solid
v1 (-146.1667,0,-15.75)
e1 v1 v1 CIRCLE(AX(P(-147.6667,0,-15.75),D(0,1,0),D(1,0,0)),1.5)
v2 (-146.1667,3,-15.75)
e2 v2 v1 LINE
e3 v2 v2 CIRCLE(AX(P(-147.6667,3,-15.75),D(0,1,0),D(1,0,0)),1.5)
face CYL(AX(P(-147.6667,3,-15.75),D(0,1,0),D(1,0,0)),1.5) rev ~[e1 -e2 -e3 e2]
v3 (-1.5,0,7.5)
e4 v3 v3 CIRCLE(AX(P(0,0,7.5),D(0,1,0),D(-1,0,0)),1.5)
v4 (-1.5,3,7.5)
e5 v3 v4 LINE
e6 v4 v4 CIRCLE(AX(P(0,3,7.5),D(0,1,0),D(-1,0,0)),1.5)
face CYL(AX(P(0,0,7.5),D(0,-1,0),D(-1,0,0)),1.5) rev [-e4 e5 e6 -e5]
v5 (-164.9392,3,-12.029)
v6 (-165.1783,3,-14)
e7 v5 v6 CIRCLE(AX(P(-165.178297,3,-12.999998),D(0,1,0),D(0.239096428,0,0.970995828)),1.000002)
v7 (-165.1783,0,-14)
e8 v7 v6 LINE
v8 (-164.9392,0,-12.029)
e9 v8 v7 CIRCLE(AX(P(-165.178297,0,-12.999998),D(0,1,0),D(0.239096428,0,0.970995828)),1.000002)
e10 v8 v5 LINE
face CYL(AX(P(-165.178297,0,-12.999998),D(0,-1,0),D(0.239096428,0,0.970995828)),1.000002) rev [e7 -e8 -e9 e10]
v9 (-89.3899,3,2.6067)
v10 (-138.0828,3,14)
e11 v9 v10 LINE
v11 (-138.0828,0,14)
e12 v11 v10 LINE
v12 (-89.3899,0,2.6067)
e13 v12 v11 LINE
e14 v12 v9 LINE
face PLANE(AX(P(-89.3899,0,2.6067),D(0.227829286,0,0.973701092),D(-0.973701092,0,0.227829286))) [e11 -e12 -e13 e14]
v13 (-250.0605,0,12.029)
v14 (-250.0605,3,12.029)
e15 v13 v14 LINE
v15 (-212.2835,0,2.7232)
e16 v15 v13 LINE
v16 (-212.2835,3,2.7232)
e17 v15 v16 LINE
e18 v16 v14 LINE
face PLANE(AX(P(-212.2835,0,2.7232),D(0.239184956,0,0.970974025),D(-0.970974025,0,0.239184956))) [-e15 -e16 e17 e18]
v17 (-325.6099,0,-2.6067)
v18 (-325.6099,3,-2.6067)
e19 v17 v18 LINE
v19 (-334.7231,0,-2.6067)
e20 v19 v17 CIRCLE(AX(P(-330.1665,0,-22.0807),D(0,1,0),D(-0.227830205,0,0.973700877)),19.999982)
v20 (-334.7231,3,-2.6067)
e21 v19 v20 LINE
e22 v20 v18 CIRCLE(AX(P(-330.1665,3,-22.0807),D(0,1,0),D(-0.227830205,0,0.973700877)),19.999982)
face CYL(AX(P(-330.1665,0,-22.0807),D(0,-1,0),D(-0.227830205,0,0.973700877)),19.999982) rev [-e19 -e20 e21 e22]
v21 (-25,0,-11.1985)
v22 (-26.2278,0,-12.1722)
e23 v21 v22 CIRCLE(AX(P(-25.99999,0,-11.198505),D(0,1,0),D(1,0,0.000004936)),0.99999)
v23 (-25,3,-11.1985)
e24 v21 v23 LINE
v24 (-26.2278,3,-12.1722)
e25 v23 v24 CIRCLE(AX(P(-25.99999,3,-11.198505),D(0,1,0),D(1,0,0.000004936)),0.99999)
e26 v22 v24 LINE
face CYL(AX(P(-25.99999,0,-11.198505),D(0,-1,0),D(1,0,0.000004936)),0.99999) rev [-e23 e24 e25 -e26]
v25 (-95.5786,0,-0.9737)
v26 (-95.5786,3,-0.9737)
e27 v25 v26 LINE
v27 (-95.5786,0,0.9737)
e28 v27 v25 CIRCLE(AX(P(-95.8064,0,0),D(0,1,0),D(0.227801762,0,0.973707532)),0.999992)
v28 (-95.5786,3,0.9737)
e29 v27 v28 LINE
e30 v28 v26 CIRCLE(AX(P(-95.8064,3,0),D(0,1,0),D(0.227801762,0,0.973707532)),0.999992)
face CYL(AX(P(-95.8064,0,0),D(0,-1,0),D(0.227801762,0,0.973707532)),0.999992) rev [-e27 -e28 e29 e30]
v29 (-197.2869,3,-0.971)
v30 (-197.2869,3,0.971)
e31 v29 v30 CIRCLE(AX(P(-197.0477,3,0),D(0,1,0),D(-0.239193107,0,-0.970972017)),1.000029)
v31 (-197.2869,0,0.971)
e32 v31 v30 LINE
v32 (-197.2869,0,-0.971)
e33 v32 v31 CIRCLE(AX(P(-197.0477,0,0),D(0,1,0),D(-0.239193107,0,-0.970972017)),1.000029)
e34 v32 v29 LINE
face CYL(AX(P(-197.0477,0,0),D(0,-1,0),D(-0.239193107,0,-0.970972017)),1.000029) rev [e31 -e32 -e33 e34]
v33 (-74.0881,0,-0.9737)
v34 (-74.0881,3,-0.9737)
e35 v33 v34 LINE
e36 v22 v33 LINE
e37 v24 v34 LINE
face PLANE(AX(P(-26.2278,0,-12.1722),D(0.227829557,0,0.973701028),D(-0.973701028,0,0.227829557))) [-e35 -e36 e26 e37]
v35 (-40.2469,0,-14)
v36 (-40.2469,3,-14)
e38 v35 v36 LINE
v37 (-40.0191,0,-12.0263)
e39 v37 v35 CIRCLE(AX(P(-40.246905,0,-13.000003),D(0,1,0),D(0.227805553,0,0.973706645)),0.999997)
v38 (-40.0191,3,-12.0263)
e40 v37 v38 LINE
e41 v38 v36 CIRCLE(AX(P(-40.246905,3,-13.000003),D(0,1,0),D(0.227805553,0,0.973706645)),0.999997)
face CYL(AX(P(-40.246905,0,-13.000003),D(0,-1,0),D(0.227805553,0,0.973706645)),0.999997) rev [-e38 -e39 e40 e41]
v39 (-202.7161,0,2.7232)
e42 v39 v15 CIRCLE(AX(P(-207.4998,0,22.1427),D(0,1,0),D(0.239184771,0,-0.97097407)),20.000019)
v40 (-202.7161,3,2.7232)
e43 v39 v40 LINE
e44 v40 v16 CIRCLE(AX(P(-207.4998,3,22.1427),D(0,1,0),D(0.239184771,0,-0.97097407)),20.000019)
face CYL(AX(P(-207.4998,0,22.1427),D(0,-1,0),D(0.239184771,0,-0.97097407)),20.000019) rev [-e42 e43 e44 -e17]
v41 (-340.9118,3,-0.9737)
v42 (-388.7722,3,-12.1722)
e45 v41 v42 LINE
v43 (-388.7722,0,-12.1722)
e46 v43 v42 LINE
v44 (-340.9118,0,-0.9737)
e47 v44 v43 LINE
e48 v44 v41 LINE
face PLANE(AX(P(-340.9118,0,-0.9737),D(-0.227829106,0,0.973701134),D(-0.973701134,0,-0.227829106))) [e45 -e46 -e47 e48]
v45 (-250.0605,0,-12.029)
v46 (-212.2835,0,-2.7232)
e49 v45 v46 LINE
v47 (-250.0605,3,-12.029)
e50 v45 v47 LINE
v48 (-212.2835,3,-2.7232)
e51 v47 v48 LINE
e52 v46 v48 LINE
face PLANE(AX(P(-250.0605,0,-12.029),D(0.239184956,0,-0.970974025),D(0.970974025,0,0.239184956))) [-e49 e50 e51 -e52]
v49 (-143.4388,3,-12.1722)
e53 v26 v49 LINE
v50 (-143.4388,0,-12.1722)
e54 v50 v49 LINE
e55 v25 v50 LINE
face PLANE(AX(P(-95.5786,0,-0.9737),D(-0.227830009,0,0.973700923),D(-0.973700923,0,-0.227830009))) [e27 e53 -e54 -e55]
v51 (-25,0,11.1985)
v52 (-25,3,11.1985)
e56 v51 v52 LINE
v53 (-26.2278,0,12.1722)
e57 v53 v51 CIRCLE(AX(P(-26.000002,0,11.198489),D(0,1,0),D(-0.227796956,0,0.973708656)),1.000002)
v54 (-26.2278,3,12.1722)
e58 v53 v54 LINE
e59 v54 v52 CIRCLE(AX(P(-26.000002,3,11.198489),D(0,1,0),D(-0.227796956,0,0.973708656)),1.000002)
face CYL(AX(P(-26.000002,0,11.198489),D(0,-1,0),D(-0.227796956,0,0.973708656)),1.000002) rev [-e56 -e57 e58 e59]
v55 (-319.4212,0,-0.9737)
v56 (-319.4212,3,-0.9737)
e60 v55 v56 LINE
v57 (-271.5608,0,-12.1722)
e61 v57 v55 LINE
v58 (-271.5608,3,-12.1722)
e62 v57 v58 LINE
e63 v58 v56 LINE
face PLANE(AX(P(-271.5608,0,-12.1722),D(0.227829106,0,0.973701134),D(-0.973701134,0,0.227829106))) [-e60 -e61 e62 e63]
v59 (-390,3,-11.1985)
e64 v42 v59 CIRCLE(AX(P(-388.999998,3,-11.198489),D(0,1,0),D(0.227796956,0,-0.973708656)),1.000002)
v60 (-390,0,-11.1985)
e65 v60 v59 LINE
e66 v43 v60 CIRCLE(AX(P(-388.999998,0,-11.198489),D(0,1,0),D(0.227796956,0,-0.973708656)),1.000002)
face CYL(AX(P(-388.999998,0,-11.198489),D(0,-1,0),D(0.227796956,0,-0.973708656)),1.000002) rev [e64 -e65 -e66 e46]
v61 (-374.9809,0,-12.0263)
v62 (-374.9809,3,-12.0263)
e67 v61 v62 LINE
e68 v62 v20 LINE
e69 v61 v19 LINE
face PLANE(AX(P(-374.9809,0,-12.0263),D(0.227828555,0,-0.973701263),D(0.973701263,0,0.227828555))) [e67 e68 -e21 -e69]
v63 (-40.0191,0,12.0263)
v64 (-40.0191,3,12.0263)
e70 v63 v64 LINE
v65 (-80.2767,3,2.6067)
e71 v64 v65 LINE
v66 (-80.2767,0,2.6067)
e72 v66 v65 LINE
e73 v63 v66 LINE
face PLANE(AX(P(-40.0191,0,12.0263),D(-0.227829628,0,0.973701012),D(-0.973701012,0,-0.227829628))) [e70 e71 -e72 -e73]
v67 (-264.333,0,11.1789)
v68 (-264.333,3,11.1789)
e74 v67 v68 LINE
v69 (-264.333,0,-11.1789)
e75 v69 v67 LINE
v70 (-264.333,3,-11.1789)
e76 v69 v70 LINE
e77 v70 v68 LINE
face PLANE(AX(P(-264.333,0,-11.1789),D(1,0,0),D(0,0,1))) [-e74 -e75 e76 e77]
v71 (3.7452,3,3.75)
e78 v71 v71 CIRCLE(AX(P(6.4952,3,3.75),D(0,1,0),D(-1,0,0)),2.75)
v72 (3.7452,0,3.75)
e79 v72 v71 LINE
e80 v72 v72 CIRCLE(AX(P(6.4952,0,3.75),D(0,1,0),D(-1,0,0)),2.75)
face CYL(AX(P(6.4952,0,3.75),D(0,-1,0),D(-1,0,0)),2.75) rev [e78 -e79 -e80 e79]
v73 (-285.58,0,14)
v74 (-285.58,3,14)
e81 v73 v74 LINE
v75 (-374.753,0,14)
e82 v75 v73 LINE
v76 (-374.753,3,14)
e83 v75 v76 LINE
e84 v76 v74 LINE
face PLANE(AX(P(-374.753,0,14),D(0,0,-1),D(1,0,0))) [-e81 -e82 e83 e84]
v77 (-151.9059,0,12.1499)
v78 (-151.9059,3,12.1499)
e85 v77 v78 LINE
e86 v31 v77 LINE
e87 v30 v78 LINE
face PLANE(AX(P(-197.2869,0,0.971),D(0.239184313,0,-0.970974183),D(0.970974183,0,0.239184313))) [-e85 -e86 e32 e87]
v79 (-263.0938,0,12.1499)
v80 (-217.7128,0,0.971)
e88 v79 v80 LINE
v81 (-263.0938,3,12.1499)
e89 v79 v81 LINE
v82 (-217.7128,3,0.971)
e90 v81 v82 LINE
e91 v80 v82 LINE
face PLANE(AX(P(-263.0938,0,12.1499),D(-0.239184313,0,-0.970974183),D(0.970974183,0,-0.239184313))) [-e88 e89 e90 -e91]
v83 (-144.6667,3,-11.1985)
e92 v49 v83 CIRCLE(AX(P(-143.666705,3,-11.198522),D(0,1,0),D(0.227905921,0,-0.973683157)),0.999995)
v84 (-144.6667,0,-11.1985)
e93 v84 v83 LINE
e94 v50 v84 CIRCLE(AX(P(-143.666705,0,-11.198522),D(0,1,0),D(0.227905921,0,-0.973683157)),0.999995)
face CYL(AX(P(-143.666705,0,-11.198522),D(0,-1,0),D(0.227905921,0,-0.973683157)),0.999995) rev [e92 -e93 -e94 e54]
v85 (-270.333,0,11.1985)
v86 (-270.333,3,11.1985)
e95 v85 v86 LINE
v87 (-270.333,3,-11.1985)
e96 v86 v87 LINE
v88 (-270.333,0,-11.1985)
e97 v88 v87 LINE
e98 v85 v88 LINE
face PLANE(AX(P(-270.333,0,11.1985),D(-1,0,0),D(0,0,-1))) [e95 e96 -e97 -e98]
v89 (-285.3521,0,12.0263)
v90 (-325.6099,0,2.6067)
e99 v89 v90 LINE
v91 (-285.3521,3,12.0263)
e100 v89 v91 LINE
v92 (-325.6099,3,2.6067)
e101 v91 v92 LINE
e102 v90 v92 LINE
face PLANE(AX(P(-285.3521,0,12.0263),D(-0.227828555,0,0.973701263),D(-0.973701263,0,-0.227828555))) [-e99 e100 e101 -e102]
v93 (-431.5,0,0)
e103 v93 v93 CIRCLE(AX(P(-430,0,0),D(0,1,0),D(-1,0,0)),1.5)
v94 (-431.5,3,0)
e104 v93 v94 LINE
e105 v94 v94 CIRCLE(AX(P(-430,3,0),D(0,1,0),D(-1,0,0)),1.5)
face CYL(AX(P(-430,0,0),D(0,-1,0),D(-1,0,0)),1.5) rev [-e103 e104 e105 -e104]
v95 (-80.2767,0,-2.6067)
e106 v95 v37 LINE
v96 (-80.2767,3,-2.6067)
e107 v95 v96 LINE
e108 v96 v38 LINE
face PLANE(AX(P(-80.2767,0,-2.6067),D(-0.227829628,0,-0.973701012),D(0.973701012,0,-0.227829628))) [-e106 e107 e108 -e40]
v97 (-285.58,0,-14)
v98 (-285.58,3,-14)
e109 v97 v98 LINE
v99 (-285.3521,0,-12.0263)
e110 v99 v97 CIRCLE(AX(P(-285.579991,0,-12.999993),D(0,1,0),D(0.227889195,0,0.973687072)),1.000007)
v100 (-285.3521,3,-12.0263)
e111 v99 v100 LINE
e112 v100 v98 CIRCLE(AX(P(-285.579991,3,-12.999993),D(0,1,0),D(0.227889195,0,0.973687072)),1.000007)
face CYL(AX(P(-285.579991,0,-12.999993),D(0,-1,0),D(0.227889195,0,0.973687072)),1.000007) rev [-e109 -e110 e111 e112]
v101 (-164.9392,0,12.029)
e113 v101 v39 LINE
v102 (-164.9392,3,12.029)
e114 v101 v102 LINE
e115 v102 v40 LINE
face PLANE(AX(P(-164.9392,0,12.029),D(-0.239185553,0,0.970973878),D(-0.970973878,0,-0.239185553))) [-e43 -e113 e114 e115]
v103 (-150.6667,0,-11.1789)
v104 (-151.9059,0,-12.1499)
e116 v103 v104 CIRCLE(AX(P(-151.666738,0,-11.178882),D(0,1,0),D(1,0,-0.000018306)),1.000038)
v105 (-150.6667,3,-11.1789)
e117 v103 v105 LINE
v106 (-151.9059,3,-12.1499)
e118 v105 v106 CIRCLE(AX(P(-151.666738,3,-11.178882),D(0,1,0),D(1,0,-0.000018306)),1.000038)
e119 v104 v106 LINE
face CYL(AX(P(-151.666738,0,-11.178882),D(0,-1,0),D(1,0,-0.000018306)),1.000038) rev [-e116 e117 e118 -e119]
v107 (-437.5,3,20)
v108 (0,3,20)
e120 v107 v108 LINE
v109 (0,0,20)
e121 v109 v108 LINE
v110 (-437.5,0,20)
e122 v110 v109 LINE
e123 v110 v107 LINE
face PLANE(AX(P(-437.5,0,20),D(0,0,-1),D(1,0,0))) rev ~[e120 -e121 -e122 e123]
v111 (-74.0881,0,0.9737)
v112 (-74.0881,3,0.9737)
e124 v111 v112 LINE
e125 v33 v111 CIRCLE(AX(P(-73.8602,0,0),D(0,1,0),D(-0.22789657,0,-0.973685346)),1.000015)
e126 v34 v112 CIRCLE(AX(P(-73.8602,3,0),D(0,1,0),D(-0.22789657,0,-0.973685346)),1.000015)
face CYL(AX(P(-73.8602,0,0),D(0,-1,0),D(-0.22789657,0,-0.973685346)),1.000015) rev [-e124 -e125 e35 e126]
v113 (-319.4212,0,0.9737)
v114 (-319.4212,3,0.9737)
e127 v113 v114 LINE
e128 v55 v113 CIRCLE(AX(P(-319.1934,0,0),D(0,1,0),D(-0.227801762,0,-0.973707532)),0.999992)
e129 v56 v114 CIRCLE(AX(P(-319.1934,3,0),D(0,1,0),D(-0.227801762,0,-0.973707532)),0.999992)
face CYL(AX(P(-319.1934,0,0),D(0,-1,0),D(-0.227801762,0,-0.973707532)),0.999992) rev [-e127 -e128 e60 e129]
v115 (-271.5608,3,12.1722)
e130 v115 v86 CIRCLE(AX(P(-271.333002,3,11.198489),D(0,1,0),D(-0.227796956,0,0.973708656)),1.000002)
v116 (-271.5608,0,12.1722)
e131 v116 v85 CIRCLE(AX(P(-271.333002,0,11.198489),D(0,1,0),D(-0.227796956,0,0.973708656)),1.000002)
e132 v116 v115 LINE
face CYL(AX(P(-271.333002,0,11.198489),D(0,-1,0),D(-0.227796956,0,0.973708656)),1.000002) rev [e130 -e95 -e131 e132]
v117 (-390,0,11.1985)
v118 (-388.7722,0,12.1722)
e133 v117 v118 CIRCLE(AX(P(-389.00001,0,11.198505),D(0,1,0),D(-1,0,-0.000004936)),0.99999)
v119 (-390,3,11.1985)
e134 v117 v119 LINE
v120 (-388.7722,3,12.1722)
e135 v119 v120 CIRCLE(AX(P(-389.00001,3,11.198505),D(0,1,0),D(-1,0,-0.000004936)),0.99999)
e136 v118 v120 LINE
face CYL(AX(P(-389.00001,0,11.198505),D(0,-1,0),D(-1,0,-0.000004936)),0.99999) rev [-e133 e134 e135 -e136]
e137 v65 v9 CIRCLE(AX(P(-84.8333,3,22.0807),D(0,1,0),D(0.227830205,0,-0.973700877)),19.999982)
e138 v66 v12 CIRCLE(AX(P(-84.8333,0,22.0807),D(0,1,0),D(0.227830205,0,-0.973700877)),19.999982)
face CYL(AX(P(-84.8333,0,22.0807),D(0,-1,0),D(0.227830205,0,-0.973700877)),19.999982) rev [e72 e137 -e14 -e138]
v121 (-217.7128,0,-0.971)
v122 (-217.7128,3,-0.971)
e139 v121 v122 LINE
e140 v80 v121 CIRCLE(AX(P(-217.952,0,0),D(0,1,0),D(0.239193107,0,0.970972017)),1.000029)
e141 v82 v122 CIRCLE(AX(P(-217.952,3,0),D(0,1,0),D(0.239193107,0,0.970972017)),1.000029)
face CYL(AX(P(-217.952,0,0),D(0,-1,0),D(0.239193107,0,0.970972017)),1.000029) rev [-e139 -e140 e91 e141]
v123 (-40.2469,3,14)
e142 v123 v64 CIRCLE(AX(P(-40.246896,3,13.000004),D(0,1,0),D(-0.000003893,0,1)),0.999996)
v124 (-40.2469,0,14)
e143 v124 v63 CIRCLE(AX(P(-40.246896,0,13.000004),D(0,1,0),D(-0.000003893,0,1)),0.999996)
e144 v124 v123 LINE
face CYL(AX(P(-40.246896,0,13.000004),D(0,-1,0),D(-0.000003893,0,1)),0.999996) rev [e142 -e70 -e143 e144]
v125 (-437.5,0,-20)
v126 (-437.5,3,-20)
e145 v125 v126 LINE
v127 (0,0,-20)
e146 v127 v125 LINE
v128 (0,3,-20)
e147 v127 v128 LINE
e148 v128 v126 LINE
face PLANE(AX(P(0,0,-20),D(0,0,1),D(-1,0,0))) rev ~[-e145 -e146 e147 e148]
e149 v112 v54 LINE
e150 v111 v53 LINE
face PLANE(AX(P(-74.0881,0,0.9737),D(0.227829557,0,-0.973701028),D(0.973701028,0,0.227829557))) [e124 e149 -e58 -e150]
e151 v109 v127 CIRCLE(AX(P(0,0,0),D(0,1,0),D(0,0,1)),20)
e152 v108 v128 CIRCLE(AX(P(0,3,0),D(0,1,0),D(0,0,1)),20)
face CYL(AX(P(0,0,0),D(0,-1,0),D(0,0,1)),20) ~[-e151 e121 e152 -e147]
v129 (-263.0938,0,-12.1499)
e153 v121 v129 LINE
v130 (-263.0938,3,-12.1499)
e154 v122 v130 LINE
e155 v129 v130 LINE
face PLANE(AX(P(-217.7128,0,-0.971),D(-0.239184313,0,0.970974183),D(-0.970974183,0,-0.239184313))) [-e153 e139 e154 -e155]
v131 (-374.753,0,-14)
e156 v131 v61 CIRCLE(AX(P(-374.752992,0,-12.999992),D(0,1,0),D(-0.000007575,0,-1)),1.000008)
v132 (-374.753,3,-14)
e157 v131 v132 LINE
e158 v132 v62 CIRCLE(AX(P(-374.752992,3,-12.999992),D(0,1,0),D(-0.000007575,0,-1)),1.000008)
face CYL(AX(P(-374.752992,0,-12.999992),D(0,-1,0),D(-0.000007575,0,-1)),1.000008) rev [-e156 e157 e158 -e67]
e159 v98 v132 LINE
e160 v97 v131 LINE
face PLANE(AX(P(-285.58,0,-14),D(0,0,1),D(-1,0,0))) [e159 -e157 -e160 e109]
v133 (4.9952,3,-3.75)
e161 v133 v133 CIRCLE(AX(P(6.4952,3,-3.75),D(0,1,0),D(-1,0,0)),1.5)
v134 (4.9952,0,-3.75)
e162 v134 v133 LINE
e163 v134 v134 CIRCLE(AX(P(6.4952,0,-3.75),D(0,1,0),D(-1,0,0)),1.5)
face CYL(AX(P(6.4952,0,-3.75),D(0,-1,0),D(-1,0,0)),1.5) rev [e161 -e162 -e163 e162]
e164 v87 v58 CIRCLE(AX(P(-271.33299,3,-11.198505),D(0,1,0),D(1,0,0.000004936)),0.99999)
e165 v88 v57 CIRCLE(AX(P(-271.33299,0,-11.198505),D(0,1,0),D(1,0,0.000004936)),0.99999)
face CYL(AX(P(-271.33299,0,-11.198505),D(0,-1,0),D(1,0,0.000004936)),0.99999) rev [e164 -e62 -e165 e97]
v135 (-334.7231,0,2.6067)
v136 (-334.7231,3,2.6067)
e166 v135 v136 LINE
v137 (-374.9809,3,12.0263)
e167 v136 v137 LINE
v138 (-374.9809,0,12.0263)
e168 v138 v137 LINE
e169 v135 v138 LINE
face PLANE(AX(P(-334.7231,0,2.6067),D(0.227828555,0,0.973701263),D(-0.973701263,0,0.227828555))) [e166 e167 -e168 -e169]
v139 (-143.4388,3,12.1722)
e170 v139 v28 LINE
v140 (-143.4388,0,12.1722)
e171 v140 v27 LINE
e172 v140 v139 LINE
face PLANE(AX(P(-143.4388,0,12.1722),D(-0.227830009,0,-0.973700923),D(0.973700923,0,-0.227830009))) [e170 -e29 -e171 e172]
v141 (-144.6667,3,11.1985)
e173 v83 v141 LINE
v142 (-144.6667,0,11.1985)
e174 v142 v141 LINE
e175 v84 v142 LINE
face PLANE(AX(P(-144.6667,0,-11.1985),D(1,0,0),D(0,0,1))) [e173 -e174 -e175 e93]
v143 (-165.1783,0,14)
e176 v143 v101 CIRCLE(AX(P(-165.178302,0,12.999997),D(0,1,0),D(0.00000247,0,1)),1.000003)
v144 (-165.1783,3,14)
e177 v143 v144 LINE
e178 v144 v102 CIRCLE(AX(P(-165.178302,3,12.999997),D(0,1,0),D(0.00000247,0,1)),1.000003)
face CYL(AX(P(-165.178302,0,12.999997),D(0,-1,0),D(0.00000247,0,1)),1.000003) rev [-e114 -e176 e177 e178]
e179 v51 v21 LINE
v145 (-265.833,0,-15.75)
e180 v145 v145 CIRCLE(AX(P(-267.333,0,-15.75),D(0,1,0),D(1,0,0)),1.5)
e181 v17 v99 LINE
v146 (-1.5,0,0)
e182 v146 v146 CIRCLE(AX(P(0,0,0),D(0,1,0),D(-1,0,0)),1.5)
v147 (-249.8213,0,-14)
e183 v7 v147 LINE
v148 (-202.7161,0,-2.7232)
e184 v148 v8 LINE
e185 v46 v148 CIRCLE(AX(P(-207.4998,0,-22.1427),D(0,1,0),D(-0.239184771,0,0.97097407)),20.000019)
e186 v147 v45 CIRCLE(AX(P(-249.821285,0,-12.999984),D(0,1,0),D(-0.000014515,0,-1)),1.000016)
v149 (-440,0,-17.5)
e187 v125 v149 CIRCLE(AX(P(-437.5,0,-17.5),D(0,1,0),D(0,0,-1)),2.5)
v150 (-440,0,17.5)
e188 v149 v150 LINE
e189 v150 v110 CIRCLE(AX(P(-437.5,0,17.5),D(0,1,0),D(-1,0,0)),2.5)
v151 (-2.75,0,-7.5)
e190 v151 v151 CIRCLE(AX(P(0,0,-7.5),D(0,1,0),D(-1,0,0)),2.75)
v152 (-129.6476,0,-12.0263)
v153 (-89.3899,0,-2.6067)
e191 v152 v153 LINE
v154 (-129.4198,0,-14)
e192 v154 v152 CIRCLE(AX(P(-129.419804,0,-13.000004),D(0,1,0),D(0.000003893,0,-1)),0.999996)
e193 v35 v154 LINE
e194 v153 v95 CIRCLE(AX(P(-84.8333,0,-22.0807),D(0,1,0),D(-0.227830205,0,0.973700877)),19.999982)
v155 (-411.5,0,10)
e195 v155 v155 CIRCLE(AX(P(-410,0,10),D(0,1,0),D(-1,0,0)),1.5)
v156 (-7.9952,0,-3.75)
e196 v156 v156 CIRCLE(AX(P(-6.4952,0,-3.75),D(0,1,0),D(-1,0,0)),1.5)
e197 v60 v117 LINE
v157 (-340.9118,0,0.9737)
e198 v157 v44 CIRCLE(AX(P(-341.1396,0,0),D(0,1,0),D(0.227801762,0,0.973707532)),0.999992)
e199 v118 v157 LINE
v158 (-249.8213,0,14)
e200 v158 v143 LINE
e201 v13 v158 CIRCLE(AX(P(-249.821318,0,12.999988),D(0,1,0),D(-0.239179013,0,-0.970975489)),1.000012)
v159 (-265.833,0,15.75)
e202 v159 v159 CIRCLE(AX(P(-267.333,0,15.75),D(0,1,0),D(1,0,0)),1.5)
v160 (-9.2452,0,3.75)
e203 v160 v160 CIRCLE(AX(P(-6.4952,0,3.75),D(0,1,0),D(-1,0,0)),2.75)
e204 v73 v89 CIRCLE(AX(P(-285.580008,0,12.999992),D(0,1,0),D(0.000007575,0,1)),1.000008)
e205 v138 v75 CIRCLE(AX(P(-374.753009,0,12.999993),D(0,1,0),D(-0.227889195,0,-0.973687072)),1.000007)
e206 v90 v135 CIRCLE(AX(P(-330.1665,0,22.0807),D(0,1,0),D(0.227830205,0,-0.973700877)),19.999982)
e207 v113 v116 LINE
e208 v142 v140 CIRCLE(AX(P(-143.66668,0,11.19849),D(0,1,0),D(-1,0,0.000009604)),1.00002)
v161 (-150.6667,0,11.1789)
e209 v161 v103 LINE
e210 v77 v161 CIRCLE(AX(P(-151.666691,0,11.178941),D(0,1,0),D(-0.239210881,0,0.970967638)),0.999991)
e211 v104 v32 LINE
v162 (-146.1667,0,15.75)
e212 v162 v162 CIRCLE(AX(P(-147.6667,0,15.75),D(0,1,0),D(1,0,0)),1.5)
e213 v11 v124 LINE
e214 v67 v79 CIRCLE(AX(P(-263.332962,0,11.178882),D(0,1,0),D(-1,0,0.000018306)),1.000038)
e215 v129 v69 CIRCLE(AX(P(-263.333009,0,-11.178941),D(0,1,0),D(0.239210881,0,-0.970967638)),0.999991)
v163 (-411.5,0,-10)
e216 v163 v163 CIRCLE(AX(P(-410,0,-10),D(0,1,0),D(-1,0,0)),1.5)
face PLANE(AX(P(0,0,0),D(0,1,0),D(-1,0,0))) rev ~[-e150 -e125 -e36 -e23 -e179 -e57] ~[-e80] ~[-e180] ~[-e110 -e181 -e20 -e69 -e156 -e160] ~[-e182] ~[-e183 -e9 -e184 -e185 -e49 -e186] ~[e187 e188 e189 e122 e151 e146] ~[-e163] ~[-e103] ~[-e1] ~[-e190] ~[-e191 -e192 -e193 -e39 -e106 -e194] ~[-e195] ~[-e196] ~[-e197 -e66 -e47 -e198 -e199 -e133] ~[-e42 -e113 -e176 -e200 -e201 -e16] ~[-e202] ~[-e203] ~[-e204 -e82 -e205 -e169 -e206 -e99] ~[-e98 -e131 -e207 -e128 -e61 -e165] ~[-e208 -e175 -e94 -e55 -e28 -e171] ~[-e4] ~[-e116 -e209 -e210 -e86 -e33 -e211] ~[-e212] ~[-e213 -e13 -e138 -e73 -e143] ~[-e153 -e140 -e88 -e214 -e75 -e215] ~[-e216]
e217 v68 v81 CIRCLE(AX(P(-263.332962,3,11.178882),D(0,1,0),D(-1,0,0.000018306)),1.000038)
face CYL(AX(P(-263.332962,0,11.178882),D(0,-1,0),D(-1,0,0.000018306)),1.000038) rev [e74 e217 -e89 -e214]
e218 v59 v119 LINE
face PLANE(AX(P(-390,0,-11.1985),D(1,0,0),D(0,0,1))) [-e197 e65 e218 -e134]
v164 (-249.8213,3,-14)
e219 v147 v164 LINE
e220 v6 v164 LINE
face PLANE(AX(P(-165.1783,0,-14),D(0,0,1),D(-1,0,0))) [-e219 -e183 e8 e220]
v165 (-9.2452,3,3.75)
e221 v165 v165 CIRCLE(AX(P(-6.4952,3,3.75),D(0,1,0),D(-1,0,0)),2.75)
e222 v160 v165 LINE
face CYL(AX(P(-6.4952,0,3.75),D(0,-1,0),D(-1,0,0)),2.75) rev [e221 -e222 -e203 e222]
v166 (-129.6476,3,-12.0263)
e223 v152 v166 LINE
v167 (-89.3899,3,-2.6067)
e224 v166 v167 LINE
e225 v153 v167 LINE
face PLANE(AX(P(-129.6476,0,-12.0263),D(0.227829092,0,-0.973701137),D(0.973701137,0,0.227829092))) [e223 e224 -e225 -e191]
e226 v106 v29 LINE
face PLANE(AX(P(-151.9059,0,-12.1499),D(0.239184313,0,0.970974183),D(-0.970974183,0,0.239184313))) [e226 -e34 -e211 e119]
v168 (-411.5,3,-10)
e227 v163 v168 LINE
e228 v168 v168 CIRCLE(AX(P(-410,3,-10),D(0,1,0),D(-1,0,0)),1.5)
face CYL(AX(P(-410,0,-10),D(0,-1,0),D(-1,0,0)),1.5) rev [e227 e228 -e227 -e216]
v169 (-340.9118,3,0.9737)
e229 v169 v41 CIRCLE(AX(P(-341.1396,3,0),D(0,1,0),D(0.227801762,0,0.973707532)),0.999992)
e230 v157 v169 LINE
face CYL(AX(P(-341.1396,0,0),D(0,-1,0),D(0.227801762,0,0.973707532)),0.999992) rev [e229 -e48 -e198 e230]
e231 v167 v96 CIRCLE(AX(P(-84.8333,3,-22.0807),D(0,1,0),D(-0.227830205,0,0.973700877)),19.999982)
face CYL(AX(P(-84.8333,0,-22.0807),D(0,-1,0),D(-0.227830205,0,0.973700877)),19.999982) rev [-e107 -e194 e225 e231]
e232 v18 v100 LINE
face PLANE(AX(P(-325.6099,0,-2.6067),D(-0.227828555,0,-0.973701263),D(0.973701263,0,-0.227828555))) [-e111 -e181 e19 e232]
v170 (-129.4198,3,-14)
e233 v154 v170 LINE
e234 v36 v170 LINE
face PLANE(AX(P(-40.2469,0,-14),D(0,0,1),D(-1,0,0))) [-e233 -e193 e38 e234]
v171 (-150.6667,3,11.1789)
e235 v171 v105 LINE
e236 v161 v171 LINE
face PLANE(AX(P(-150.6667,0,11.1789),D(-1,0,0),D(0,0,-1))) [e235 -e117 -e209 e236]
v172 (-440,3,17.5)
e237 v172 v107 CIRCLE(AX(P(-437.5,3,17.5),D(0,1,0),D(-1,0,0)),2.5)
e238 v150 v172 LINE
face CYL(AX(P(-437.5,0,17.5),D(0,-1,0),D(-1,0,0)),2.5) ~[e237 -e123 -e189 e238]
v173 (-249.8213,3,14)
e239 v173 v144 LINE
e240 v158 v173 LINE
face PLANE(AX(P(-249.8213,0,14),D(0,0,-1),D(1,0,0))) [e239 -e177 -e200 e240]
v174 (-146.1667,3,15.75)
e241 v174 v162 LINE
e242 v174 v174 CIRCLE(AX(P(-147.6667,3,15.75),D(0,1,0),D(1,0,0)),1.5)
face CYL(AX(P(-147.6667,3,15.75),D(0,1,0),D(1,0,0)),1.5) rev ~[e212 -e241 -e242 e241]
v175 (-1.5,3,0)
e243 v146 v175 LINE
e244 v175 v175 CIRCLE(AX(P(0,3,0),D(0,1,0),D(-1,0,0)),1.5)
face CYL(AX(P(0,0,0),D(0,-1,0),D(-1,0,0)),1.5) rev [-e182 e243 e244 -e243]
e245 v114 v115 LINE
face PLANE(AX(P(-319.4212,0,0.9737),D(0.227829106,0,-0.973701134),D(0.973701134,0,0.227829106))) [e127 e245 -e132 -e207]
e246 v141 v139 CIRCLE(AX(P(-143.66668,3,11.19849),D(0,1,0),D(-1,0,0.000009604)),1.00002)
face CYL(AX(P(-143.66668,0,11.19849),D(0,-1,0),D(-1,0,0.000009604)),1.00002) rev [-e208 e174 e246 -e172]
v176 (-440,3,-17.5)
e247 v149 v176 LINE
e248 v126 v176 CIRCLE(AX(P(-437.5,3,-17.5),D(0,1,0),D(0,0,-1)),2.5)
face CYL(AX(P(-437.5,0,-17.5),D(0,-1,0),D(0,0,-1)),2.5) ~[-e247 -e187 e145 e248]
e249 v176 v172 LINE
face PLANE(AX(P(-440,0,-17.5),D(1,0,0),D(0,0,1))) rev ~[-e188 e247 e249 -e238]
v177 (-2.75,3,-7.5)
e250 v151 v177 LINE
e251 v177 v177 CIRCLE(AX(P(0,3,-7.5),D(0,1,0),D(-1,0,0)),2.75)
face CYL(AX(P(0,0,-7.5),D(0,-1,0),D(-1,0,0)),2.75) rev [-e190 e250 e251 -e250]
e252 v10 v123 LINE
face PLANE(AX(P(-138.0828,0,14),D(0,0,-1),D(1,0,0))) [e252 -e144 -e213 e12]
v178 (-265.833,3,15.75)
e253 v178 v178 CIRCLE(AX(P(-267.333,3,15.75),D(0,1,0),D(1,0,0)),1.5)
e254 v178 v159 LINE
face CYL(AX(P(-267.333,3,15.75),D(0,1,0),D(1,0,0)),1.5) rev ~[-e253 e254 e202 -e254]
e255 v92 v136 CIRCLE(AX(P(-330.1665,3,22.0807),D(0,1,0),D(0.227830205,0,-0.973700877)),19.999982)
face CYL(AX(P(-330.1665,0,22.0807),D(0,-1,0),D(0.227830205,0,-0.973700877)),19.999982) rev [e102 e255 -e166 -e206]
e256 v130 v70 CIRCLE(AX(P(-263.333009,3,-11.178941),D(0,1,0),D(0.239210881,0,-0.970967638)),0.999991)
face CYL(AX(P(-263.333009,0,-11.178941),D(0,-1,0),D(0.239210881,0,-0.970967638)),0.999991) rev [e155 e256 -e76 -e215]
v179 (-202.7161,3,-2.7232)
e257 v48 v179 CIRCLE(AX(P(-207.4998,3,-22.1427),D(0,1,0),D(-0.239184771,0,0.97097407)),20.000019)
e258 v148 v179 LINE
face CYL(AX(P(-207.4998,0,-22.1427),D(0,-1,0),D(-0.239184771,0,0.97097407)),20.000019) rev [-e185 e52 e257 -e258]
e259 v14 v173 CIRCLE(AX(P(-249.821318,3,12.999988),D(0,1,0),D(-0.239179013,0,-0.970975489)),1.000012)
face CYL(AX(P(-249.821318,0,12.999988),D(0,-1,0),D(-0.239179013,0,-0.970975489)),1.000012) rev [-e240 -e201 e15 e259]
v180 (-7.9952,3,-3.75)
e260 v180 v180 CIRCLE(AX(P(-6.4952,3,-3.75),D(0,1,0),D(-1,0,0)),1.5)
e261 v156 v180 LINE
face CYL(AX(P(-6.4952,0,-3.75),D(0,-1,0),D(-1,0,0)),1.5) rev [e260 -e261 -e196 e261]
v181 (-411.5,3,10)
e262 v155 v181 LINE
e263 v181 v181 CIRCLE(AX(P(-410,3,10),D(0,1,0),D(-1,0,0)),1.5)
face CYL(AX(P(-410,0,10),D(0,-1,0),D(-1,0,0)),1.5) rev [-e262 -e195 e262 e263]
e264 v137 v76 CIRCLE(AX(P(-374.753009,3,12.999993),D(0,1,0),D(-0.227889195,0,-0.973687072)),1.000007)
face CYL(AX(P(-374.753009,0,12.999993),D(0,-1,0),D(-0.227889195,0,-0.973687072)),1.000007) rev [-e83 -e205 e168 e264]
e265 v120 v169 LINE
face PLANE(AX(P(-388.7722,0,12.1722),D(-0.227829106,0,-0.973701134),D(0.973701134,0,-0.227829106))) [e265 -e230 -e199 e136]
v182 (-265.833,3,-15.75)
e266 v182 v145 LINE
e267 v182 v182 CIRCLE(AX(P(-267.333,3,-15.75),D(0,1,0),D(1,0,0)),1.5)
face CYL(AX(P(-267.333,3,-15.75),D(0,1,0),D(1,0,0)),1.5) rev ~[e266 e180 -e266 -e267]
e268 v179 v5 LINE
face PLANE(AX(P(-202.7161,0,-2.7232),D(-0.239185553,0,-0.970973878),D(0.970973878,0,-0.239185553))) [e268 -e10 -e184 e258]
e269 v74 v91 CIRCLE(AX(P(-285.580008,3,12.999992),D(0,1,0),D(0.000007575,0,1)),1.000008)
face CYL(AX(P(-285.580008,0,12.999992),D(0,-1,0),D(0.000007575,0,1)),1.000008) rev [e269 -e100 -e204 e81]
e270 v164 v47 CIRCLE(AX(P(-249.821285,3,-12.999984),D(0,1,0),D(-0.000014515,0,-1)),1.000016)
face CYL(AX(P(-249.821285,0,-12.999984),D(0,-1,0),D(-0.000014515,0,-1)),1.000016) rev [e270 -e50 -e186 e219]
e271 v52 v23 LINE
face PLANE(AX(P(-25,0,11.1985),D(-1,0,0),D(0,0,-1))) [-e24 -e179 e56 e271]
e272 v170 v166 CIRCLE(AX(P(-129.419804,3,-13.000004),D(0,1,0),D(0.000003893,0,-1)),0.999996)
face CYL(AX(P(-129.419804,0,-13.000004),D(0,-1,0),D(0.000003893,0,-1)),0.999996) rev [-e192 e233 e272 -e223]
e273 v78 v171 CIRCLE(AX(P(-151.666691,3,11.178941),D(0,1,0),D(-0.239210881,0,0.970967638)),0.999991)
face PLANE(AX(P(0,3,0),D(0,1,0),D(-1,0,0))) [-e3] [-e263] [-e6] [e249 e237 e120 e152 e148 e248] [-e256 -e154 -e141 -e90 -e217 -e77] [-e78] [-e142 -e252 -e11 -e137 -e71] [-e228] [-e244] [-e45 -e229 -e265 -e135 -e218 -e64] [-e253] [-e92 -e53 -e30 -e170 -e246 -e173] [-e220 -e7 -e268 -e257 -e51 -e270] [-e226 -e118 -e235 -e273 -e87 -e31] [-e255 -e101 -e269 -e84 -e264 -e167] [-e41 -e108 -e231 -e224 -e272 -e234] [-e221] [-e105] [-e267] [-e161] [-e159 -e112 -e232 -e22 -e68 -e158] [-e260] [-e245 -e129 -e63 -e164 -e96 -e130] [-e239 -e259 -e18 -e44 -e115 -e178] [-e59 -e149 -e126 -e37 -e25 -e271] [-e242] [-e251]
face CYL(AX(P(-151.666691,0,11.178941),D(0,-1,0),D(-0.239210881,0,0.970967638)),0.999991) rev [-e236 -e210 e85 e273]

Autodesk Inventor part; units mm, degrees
ref_plane "YZ Plane" through (0, 0, 0) normal (1, 0, 0) x (0, 1, 0)
ref_plane "XZ Plane" through (0, 0, 0) normal (0, 1, 0) x (-1, 0, 0)
ref_plane "XY Plane" through (0, 0, 0) normal (0, 0, 1) x (1, 0, 0)
sketch "Sketch1" plane through (0, 0, 0) normal (0, 1, 0) x (-1, 0, 0)
  arc A0 (74.0881, -0.9737) -> (74.0881, 0.9737) centre (73.8602, 0) ccw
  line L0 (74.0881, 0.9737) -> (26.2278, 12.1722)
  arc A1 (26.2278, 12.1722) -> (25, 11.1985) centre (26, 11.1985) ccw
  line L1 (25, 11.1985) -> (25, -11.1985)
  arc A2 (25, -11.1985) -> (26.2278, -12.1722) centre (26, -11.1985) ccw
  line L2 (26.2278, -12.1722) -> (74.0881, -0.9737)
  circle A3 centre (410, -10) radius 1.5
  line L3 (250.0605, -12.029) -> (212.2835, -2.7232)
  arc A4 (212.2835, -2.7232) -> (202.7161, -2.7232) centre (207.4998, -22.1427) ccw
  line L4 (202.7161, -2.7232) -> (164.9392, -12.029)
  arc A5 (164.9392, -12.029) -> (165.1783, -14) centre (165.1783, -13) ccw
  line L5 (165.1783, -14) -> (249.8213, -14)
  arc A6 (249.8213, -14) -> (250.0605, -12.029) centre (249.8213, -13) ccw
  line L6 (212.2835, 2.7232) -> (250.0605, 12.029)
  arc A7 (250.0605, 12.029) -> (249.8213, 14) centre (249.8213, 13) ccw
  line L7 (249.8213, 14) -> (165.1783, 14)
  arc A8 (165.1783, 14) -> (164.9392, 12.029) centre (165.1783, 13) ccw
  line L8 (164.9392, 12.029) -> (202.7161, 2.7232)
  arc A9 (202.7161, 2.7232) -> (212.2835, 2.7232) centre (207.4998, 22.1427) ccw
  circle A10 centre (6.4952, -3.75) radius 1.5
  line L9 (80.2767, -2.6067) -> (40.0191, -12.0263)
  arc A11 (40.0191, -12.0263) -> (40.2469, -14) centre (40.2469, -13) ccw
  line L10 (40.2469, -14) -> (129.4198, -14)
  arc A12 (129.4198, -14) -> (129.6476, -12.0263) centre (129.4198, -13) ccw
  line L11 (129.6476, -12.0263) -> (89.3899, -2.6067)
  arc A13 (89.3899, -2.6067) -> (80.2767, -2.6067) centre (84.8333, -22.0807) ccw
  line L12 (374.9809, -12.0263) -> (334.7231, -2.6067)
  arc A14 (334.7231, -2.6067) -> (325.6099, -2.6067) centre (330.1665, -22.0807) ccw
  line L13 (325.6099, -2.6067) -> (285.3521, -12.0263)
  arc A15 (285.3521, -12.0263) -> (285.58, -14) centre (285.58, -13) ccw
  line L14 (285.58, -14) -> (374.753, -14)
  arc A16 (374.753, -14) -> (374.9809, -12.0263) centre (374.753, -13) ccw
  line L15 (150.6667, 11.1789) -> (150.6667, -11.1789)
  arc A17 (150.6667, -11.1789) -> (151.9059, -12.1499) centre (151.6667, -11.1789) ccw
  line L16 (151.9059, -12.1499) -> (197.2869, -0.971)
  arc A18 (197.2869, -0.971) -> (197.2869, 0.971) centre (197.0477, 0) ccw
  line L17 (197.2869, 0.971) -> (151.9059, 12.1499)
  arc A19 (151.9059, 12.1499) -> (150.6667, 11.1789) centre (151.6667, 11.1789) ccw
  circle A20 centre (0, 0) radius 1.5
  circle A21 centre (6.4952, 3.75) radius 2.75
  line L18 (89.3899, 2.6067) -> (138.0828, 14)
  line L19 (138.0828, 14) -> (40.2469, 14)
  arc A22 (40.2469, 14) -> (40.0191, 12.0263) centre (40.2469, 13) ccw
  line L20 (40.0191, 12.0263) -> (80.2767, 2.6067)
  arc A23 (80.2767, 2.6067) -> (89.3899, 2.6067) centre (84.8333, 22.0807) ccw
  arc A24 (388.7722, -12.1722) -> (390, -11.1985) centre (389, -11.1985) ccw
  line L21 (390, -11.1985) -> (390, 11.1985)
  arc A25 (390, 11.1985) -> (388.7722, 12.1722) centre (389, 11.1985) ccw
  line L22 (388.7722, 12.1722) -> (340.9118, 0.9737)
  arc A26 (340.9118, 0.9737) -> (340.9118, -0.9737) centre (341.1396, 0) ccw
  line L23 (340.9118, -0.9737) -> (388.7722, -12.1722)
  line L24 (334.7231, 2.6067) -> (374.9809, 12.0263)
  arc A27 (374.9809, 12.0263) -> (374.753, 14) centre (374.753, 13) ccw
  line L25 (374.753, 14) -> (285.58, 14)
  arc A28 (285.58, 14) -> (285.3521, 12.0263) centre (285.58, 13) ccw
  line L26 (285.3521, 12.0263) -> (325.6099, 2.6067)
  arc A29 (325.6099, 2.6067) -> (334.7231, 2.6067) centre (330.1665, 22.0807) ccw
  circle A30 centre (430, 0) radius 1.5
  circle A31 centre (0, -7.5) radius 2.75
  circle A32 centre (0, 7.5) radius 1.5
  line L27 (144.6667, -11.1985) -> (144.6667, 11.1985)
  arc A33 (144.6667, 11.1985) -> (143.4388, 12.1722) centre (143.6667, 11.1985) ccw
  line L28 (143.4388, 12.1722) -> (95.5786, 0.9737)
  arc A34 (95.5786, 0.9737) -> (95.5786, -0.9737) centre (95.8064, 0) ccw
  line L29 (95.5786, -0.9737) -> (143.4388, -12.1722)
  arc A35 (143.4388, -12.1722) -> (144.6667, -11.1985) centre (143.6667, -11.1985) ccw
  arc A36 (264.333, 11.1789) -> (263.0938, 12.1499) centre (263.333, 11.1789) ccw
  line L30 (263.0938, 12.1499) -> (217.7128, 0.971)
  arc A37 (217.7128, 0.971) -> (217.7128, -0.971) centre (217.952, 0) ccw
  line L31 (217.7128, -0.971) -> (263.0938, -12.1499)
  arc A38 (263.0938, -12.1499) -> (264.333, -11.1789) centre (263.333, -11.1789) ccw
  line L32 (264.333, -11.1789) -> (264.333, 11.1789)
  circle A39 centre (410, 10) radius 1.5
  circle A40 centre (-6.4952, -3.75) radius 1.5
  circle A41 centre (-6.4952, 3.75) radius 2.75
  line L33 (271.5608, -12.1722) -> (319.4212, -0.9737)
  arc A42 (319.4212, -0.9737) -> (319.4212, 0.9737) centre (319.1934, 0) ccw
  line L34 (319.4212, 0.9737) -> (271.5608, 12.1722)
  arc A43 (271.5608, 12.1722) -> (270.333, 11.1985) centre (271.333, 11.1985) ccw
  line L35 (270.333, 11.1985) -> (270.333, -11.1985)
  arc A44 (270.333, -11.1985) -> (271.5608, -12.1722) centre (271.333, -11.1985) ccw
  arc A45 (440, 17.5) -> (437.5, 20) centre (437.5, 17.5) ccw
  line L36 (437.5, 20) -> (0, 20)
  arc A46 (0, 20) -> (0, -20) centre (0, 0) ccw
  line L37 (0, -20) -> (437.5, -20)
  arc A47 (437.5, -20) -> (440, -17.5) centre (437.5, -17.5) ccw
  line L38 (440, -17.5) -> (440, 17.5)
  point P0 (437.5, 20)
  point P1 (270.333, -11.1985)
  point P2 (270.333, 11.1985)
  point P3 (319.4212, 0.9737)
  point P4 (264.333, -11.1789)
  point P5 (217.7128, -0.971)
  point P6 (217.7128, 0.971)
  point P7 (263.0938, 12.1499)
  point P8 (95.5786, -0.9737)
  point P9 (325.6099, 2.6067)
  point P10 (285.3521, 12.0263)
  point P11 (374.753, 14)
  point P12 (340.9118, -0.9737)
  point P13 (388.7722, 12.1722)
  point P14 (390, 11.1985)
  point P15 (390, -11.1985)
  point P16 (80.2767, 2.6067)
  point P17 (40.0191, 12.0263)
  point P18 (197.2869, 0.971)
  point P19 (197.2869, -0.971)
  point P20 (325.6099, -2.6067)
  point P21 (334.7231, -2.6067)
  point P22 (129.6476, -12.0263)
  point P23 (164.9392, 12.029)
  point P24 (165.1783, -14)
  point P25 (202.7161, -2.7232)
  point P26 (212.2835, -2.7232)
  point P27 (74.0881, -0.9737)
  point P28 (25, 11.1985)
  point P29 (74.0881, 0.9737)
extrude "Extrusion1" add sketch "Sketch1" along normal blind 3
sketch "Sketch2" plane through (0, 3, 0) normal (0, 1, 0) x (1, 0, 0)
  line L0 (-144.6667, -11.1985) -> (-144.6667, 11.1985) construction
  line L1 (-144.6667, 0) -> (-150.6667, 0) construction
  line L2 (-150.6667, 11.1789) -> (-150.6667, -11.1789) construction
  line L3 (-264.333, -11.1789) -> (-264.333, 11.1789) construction
  line L4 (-264.333, 0) -> (-270.333, 0) construction
  line L5 (-270.333, 11.1985) -> (-270.333, -11.1985) construction
  line L6 (-147.6667, 0) -> (-147.6667, -15.75) construction
  line L7 (-437.5, -20) -> (0, -20) construction
  line L8 (-147.6667, 0) -> (-147.6667, 15.75) construction
  line L9 (-267.333, 0) -> (-267.333, -15.75) construction
  line L10 (-267.333, 0) -> (-267.333, 15.75) construction
  circle A0 centre (-147.6667, -15.75) radius 1.5
  circle A1 centre (-147.6667, 15.75) radius 1.5
  circle A2 centre (-267.333, -15.75) radius 1.5
  circle A3 centre (-267.333, 15.75) radius 1.5
  point P0 (0, 0)
  dimension "d2" = 15.75
  dimension "d3" = 15.75
  dimension "d4" = 15.75
  dimension "d5" = 3
  dimension "d6" = 3
  dimension "d7" = 3
  dimension "d8" = 3
extrude "Extrusion2" cut sketch "Sketch2" against normal blind 3
equation "\"d9\" = d5"
properties part number "Top_Arm"
